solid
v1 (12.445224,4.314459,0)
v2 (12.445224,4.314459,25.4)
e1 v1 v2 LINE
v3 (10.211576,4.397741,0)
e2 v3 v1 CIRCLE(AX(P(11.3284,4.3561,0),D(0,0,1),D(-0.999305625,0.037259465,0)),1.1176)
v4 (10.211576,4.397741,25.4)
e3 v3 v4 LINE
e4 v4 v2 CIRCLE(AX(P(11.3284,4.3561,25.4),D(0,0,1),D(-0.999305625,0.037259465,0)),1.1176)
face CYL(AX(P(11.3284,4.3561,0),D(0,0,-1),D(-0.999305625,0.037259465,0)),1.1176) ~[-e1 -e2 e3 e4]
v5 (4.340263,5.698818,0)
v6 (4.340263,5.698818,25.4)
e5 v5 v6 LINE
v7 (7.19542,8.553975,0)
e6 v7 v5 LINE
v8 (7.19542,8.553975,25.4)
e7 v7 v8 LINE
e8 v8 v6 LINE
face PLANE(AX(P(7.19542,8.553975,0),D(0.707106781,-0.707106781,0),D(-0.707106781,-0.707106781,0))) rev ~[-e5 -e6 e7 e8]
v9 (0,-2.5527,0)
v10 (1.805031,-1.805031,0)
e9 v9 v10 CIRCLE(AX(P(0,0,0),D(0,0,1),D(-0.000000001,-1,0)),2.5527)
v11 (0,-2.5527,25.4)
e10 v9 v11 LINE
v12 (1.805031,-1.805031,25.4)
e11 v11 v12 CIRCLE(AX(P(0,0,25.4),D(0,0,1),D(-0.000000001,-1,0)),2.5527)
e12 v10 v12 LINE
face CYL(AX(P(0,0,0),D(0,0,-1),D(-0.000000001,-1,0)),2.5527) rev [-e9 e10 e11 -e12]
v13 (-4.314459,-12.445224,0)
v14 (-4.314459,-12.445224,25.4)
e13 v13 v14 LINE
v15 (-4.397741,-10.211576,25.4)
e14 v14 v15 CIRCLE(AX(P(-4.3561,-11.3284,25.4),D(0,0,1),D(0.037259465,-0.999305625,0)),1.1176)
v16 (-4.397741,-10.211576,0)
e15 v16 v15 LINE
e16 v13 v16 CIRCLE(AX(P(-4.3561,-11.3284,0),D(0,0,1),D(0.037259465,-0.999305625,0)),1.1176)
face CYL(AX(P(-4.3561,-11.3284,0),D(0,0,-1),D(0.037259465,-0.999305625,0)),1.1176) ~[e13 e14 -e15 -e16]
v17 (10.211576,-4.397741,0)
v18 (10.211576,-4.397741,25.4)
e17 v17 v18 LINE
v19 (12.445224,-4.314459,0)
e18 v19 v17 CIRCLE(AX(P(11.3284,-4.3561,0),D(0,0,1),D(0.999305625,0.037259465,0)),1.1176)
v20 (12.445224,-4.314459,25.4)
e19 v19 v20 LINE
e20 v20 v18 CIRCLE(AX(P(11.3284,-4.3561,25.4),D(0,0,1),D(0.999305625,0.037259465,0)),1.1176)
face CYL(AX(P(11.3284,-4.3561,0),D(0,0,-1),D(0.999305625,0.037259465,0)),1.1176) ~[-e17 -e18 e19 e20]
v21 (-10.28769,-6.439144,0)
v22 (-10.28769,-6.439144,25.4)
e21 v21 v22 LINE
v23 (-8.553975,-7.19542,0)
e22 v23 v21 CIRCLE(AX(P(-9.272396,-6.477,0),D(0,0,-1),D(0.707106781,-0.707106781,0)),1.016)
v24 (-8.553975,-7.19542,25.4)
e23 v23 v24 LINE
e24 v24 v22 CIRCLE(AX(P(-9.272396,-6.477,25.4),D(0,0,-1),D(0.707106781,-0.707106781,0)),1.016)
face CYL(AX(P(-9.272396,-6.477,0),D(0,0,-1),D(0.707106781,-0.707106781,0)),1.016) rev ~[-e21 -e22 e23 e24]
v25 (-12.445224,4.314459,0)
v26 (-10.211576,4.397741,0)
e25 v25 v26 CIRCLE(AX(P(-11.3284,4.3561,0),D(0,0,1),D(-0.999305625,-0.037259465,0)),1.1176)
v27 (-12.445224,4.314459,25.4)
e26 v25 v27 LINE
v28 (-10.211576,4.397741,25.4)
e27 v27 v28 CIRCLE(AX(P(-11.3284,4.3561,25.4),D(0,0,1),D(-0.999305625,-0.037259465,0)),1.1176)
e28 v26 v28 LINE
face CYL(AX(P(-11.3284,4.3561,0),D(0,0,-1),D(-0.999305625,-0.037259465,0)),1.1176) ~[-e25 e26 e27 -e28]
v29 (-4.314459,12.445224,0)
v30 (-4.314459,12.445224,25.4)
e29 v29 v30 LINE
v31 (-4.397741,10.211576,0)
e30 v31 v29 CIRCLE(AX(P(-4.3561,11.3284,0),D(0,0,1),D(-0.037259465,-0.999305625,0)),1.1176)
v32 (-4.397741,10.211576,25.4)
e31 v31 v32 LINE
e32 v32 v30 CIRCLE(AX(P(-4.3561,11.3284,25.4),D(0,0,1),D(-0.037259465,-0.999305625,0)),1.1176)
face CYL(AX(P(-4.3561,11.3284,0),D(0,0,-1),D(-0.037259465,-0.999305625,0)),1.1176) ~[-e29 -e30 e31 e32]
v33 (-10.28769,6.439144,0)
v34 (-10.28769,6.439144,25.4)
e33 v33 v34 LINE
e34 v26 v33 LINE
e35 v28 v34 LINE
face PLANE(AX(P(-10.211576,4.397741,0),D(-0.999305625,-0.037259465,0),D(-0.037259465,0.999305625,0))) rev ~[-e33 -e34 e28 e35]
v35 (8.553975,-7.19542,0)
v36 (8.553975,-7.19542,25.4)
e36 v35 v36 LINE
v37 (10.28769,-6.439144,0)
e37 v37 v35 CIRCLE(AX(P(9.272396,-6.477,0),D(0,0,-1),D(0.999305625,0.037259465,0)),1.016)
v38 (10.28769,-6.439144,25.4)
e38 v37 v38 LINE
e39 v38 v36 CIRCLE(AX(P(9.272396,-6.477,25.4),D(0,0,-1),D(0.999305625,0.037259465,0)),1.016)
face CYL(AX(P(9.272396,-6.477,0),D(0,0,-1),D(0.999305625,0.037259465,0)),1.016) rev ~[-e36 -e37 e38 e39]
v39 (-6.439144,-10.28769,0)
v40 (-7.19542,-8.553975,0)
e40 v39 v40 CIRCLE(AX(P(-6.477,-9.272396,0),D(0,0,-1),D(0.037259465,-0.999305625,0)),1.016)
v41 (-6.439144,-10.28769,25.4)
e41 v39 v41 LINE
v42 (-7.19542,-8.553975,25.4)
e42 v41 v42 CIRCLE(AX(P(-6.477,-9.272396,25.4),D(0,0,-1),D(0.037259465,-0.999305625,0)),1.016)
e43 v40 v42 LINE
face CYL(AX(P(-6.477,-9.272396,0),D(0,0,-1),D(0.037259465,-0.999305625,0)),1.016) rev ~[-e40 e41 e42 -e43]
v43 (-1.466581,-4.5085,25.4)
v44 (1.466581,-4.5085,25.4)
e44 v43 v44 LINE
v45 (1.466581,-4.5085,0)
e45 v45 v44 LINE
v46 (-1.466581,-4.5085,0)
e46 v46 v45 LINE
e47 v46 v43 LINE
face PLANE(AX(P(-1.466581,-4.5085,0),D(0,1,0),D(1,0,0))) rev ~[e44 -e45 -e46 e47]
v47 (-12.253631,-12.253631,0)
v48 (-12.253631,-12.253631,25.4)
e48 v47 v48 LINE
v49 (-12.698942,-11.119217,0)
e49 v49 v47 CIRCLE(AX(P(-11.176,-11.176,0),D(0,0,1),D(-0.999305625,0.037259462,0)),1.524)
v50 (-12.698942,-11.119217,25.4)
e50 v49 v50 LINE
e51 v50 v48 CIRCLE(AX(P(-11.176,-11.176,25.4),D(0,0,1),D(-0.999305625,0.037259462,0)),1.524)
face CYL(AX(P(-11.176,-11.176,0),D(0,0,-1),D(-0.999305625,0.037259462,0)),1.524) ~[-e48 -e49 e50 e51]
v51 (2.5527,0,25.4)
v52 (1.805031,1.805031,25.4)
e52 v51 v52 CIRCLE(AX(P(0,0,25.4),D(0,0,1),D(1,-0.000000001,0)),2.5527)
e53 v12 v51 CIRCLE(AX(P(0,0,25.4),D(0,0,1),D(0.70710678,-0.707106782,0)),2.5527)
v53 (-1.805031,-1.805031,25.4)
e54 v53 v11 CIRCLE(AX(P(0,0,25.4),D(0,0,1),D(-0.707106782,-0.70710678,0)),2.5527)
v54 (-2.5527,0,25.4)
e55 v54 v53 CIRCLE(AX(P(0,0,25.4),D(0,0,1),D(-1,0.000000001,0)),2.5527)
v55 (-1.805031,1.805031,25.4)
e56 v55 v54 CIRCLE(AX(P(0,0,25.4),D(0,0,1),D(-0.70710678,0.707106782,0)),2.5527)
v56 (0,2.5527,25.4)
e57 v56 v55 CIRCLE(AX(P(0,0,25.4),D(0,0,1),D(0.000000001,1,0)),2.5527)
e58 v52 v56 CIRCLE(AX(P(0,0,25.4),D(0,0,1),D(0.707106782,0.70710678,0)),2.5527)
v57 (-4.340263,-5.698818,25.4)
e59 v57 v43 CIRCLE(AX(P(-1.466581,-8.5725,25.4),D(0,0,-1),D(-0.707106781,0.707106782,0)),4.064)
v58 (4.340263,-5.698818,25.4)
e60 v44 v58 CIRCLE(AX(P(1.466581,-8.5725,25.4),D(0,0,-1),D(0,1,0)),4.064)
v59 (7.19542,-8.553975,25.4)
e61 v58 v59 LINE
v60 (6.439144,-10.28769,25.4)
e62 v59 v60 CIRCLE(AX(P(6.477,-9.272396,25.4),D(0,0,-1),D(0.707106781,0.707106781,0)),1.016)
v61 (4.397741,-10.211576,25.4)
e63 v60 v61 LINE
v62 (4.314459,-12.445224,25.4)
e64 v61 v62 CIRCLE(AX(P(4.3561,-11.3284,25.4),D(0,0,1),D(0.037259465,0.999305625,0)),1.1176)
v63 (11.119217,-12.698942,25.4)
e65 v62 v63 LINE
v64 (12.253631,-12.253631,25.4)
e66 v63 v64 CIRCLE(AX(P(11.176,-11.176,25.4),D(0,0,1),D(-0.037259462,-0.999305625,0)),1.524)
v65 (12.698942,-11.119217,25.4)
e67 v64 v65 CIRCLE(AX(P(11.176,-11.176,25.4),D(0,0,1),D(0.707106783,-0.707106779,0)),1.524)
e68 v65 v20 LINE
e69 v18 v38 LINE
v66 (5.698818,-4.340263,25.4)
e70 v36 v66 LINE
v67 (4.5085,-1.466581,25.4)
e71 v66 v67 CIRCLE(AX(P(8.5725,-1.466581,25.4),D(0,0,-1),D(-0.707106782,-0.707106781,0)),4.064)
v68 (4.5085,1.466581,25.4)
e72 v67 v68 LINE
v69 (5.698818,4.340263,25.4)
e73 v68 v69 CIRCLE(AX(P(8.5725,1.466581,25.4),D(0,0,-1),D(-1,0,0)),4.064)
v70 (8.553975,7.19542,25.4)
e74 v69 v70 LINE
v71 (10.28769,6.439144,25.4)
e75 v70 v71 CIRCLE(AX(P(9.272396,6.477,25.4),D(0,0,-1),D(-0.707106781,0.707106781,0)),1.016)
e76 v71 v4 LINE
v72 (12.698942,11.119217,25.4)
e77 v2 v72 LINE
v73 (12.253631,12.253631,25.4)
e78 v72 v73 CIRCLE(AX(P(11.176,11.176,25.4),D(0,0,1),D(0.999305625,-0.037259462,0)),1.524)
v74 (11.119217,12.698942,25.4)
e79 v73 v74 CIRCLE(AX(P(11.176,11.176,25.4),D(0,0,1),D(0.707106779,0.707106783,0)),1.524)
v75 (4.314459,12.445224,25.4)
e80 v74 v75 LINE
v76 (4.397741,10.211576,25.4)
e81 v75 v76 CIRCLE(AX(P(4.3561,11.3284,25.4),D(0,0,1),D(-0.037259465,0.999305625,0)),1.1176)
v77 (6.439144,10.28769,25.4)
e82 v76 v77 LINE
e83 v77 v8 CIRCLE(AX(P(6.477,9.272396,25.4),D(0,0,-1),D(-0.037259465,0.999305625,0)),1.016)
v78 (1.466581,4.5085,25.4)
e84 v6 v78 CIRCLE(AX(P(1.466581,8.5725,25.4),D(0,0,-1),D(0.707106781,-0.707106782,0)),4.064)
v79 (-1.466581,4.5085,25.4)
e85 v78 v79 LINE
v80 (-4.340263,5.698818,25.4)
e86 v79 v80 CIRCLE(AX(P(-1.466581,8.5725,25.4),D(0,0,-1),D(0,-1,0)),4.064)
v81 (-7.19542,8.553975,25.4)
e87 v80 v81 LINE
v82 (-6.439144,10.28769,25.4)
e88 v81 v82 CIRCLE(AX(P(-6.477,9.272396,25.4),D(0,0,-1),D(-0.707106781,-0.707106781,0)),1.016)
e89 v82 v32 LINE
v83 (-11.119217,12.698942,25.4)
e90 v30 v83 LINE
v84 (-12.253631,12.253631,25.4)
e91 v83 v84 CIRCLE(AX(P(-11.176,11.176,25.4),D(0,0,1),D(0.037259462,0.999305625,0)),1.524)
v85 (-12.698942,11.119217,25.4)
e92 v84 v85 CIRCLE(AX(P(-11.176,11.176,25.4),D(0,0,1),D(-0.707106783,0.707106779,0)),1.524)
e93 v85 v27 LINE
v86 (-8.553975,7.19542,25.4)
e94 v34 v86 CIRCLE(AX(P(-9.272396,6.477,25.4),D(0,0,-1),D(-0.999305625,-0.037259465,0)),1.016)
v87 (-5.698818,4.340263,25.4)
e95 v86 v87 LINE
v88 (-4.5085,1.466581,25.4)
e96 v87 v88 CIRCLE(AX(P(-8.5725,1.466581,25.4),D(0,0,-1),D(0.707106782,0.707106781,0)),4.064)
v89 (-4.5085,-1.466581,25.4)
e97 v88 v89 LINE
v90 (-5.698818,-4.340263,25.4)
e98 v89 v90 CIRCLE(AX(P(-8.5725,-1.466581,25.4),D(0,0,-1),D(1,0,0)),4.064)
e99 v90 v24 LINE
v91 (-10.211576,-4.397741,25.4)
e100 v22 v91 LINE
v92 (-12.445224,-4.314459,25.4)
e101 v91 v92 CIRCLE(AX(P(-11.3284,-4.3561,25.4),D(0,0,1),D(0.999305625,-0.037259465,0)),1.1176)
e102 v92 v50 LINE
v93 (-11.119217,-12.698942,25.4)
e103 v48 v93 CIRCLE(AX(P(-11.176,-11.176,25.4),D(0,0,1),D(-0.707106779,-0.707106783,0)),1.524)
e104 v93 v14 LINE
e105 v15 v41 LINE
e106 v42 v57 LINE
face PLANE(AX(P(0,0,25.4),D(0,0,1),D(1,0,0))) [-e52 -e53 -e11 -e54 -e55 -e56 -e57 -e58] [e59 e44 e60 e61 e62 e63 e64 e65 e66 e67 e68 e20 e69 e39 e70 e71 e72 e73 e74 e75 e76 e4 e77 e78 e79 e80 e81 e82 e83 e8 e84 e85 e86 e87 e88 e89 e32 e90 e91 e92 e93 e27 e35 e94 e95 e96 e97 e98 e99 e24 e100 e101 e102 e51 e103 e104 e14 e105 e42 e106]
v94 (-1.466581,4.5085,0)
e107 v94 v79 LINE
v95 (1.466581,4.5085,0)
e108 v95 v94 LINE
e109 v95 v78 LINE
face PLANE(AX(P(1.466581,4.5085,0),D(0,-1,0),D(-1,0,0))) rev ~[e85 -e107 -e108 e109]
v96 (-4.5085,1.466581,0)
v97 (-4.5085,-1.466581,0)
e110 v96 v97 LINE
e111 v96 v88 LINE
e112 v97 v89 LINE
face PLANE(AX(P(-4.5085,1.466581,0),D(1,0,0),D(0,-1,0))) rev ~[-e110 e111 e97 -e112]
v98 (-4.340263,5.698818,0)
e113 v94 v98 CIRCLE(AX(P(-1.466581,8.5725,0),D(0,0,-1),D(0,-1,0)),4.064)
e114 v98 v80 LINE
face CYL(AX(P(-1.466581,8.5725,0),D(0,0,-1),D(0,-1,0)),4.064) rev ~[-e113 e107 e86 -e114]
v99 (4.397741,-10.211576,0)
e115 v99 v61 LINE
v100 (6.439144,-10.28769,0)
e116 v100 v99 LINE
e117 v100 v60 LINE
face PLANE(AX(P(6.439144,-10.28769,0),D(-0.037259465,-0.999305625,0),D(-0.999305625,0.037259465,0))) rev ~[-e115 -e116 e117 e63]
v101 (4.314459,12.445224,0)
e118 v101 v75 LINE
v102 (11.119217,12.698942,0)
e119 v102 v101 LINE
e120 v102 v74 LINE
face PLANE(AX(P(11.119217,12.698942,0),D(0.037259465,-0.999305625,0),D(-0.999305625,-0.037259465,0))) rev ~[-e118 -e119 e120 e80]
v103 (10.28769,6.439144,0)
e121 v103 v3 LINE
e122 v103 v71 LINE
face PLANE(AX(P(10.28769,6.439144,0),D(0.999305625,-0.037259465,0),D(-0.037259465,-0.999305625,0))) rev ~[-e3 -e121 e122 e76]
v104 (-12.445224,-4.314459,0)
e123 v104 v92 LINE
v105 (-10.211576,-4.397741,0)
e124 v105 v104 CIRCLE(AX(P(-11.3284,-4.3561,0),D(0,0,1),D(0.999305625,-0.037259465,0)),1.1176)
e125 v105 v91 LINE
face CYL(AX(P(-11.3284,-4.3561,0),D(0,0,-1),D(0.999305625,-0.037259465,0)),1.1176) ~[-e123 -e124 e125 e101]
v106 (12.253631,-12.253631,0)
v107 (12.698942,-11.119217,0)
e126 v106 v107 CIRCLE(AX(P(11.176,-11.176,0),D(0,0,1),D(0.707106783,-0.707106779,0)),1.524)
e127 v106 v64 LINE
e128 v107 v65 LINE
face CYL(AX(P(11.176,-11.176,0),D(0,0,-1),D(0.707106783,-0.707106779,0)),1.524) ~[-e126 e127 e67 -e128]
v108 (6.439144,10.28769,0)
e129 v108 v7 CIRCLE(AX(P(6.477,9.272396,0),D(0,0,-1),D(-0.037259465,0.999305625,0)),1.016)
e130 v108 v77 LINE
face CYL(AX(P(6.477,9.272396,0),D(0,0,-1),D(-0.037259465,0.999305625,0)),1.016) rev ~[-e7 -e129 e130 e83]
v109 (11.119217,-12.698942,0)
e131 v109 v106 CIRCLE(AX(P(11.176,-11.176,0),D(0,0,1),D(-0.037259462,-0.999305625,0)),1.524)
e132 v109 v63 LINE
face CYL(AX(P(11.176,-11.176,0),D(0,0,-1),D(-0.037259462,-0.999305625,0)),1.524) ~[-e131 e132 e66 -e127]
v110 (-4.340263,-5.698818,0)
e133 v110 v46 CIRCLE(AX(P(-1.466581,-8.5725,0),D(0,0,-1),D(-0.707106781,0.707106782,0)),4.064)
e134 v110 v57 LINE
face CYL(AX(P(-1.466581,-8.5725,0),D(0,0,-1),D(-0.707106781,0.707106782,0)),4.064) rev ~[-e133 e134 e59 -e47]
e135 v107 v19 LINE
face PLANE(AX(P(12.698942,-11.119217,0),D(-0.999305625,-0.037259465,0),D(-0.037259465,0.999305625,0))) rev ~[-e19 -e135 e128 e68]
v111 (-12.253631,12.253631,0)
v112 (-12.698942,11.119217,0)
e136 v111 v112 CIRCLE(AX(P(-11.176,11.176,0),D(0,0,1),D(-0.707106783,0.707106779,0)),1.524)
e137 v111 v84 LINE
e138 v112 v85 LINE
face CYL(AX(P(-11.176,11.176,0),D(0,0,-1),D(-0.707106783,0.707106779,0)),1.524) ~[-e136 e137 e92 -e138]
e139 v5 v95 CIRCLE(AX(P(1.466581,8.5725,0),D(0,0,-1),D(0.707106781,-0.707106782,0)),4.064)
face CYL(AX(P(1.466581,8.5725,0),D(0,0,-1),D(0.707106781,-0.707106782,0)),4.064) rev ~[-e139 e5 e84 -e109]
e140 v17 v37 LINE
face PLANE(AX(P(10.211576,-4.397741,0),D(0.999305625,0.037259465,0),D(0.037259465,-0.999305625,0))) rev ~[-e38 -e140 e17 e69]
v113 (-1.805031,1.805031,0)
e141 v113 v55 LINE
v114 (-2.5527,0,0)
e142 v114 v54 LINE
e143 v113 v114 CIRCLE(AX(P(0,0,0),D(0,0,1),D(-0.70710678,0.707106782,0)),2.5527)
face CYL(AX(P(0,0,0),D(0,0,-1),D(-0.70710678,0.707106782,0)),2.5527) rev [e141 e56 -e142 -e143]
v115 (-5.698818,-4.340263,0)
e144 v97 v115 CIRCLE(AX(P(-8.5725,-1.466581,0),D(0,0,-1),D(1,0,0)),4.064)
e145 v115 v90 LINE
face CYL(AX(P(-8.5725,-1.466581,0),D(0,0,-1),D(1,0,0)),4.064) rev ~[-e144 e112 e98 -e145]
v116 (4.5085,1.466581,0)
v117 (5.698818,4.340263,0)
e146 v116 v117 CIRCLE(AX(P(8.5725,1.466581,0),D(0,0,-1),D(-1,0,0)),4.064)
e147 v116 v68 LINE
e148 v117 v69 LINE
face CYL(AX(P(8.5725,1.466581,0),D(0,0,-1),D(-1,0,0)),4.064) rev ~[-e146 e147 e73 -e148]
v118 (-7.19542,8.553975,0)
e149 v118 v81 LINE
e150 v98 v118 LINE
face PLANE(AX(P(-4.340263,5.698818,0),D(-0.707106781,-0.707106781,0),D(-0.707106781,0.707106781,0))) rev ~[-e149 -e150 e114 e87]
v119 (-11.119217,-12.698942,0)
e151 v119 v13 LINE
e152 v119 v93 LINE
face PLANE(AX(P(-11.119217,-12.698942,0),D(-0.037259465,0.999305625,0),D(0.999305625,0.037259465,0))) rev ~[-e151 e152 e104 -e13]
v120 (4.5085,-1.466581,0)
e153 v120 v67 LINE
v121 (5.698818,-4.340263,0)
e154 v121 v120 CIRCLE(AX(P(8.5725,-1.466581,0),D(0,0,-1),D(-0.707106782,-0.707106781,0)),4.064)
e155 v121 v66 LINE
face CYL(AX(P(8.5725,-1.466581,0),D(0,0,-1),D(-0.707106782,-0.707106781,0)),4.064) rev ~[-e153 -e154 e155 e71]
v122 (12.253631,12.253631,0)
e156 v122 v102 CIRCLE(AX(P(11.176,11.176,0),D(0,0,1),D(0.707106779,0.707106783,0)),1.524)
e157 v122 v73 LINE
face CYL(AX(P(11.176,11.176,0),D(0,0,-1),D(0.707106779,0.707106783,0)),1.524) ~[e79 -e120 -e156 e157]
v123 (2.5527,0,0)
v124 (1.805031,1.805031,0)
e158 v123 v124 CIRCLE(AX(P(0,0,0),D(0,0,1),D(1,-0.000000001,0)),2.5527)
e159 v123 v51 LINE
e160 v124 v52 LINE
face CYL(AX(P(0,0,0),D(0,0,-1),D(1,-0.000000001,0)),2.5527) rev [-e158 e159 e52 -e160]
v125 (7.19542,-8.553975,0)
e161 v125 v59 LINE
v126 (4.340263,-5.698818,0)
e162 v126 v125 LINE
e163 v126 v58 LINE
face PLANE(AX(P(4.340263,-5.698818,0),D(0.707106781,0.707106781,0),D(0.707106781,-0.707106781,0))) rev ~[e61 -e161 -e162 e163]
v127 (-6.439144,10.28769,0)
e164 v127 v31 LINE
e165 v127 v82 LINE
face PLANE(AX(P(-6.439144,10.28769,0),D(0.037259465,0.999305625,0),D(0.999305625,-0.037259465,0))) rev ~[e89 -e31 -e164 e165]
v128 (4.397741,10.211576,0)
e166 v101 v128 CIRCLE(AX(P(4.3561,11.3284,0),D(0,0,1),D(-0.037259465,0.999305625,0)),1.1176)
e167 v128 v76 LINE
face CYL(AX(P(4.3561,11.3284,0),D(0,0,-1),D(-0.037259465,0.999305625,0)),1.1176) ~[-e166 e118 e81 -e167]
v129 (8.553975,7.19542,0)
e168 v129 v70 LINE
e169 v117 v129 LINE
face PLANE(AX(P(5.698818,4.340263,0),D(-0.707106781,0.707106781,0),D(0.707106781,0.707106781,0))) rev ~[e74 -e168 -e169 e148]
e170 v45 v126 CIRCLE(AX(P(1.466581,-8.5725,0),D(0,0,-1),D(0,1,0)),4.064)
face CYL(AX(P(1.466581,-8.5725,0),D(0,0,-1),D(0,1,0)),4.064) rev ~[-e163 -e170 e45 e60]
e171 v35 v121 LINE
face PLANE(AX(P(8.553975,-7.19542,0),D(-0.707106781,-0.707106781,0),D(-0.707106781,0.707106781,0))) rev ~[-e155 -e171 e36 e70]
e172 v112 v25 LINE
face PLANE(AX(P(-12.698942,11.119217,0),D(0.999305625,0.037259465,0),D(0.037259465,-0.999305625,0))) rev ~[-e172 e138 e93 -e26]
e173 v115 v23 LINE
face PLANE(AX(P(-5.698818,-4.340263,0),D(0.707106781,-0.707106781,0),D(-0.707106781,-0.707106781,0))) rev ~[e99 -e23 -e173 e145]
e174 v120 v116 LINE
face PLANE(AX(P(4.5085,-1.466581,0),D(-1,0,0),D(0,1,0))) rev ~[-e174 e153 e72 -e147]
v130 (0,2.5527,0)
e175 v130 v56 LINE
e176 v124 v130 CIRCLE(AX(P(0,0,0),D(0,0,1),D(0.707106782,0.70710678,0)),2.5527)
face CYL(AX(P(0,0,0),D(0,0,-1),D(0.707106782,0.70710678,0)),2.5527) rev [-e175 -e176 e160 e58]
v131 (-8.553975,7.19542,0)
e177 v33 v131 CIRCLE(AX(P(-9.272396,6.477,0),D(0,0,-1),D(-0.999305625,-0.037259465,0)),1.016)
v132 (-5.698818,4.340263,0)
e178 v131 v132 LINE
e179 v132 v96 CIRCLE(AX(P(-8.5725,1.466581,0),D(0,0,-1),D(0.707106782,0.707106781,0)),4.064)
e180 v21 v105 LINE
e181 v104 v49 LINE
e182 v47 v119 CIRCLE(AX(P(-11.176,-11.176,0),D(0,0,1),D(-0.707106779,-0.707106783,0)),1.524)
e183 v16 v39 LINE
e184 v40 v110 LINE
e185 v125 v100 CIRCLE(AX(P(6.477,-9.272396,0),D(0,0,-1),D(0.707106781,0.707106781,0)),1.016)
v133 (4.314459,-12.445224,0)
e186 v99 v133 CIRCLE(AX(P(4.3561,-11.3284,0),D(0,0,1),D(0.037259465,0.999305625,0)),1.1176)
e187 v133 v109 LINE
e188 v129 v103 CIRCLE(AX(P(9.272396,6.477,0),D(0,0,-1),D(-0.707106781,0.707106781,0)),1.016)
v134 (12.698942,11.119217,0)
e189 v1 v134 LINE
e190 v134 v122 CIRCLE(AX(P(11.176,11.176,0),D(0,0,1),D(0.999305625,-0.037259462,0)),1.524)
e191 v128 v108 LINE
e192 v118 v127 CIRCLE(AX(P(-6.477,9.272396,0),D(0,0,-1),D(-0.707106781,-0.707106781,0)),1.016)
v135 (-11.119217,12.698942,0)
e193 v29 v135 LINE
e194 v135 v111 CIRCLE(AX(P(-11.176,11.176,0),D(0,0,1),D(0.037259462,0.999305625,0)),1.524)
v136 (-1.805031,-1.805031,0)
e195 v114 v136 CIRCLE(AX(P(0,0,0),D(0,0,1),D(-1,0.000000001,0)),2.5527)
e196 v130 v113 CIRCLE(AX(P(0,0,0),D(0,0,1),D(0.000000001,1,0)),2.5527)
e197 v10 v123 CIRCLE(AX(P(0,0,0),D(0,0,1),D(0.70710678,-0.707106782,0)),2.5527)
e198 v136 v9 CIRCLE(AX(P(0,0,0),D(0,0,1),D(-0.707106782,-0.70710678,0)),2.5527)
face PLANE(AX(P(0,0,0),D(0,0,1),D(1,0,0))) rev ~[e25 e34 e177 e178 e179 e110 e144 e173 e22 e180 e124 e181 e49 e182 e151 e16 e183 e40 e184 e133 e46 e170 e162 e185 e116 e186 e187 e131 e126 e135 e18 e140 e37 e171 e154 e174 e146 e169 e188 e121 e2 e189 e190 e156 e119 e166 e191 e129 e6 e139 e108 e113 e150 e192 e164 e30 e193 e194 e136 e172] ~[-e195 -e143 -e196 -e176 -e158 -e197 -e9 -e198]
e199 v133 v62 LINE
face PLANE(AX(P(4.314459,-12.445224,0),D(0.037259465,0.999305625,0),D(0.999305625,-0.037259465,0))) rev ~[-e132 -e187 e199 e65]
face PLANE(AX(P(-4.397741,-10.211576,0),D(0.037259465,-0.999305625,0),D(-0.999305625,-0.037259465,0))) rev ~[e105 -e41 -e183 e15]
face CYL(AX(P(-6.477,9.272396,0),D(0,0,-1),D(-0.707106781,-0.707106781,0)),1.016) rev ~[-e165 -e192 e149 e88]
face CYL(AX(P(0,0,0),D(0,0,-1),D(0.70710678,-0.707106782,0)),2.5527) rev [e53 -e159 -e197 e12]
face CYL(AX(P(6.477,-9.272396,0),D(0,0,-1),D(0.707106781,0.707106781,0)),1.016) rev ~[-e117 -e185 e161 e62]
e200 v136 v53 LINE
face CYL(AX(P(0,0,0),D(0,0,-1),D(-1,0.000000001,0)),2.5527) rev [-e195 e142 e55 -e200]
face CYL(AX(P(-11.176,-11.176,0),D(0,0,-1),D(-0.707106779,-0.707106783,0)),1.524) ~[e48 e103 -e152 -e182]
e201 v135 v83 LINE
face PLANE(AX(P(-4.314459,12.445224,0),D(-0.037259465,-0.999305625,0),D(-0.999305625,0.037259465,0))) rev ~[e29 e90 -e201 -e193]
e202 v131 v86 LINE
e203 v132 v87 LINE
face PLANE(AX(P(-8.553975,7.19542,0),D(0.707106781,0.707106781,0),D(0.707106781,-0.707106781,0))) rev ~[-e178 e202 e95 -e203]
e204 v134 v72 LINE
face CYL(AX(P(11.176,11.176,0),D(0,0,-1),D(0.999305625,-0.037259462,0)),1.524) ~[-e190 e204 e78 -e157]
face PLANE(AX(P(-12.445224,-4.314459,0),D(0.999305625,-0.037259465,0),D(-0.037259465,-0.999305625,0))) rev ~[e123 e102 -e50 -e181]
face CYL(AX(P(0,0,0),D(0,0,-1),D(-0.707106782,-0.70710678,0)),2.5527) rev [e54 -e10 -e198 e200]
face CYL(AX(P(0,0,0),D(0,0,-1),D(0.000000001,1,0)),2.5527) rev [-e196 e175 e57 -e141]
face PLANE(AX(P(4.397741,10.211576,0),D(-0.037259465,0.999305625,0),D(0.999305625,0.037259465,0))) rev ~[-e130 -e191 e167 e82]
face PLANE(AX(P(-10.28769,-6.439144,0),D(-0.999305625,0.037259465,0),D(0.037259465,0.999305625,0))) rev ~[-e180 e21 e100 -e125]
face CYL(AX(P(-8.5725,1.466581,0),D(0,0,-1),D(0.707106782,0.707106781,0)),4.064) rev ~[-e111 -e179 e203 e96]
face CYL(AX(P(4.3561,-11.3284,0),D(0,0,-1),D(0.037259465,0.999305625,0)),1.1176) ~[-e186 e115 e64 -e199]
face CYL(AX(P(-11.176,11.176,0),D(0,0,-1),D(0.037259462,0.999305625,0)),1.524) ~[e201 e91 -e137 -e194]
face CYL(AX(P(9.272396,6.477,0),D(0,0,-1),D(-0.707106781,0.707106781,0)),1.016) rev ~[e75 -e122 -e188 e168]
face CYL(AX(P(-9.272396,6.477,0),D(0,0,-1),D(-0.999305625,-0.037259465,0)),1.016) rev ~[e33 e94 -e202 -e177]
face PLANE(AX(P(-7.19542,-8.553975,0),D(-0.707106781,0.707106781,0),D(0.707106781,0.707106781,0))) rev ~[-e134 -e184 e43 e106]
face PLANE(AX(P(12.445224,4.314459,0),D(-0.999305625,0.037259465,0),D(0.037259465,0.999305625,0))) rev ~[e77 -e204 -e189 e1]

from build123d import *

# Parameters (mm, degrees)
EXTRUDE1_DEPTH = 25.4


with BuildPart() as part:
    # Sketch1 → Extrude1 (new body)
    with BuildSketch(Plane.XY):
        with BuildLine():
            Line((11.119216576, 12.698941773), (4.314458822, 12.445223967))
            ThreePointArc((4.314458822, 12.445223967), (3.239276033, 11.286758822), (4.397741178, 10.211576033))
            Line((4.397741178, 10.211576033), (6.439144384, 10.287690476))
            ThreePointArc((6.439144384, 10.287690476), (7.408254029, 9.678624879), (7.19542049, 8.553975471))
            Line((7.19542049, 8.553975471), (4.34026306, 5.698818041))
            ThreePointArc((4.34026306, 5.698818041), (3.02180657, 4.81785358), (1.466581101, 4.5085))
            Line((1.466581101, 4.5085), (0, 4.5085))
            Line((0, 4.5085), (-1.466581101, 4.5085))
            ThreePointArc((-1.466581101, 4.5085), (-3.02180657, 4.81785358), (-4.34026306, 5.698818041))
            Line((-4.34026306, 5.698818041), (-7.19542049, 8.553975471))
            ThreePointArc((-7.19542049, 8.553975471), (-7.408254029, 9.678624879), (-6.439144384, 10.287690476))
            Line((-6.439144384, 10.287690476), (-4.397741178, 10.211576033))
            ThreePointArc((-4.397741178, 10.211576033), (-3.239276033, 11.286758822), (-4.314458822, 12.445223967))
            Line((-4.314458822, 12.445223967), (-11.119216576, 12.698941773))
            ThreePointArc((-11.119216576, 12.698941773), (-11.732873224, 12.594614892), (-12.253630735, 12.253630735))
            ThreePointArc((-12.253630735, 12.253630735), (-12.594614892, 11.732873224), (-12.698941773, 11.119216576))
            Line((-12.698941773, 11.119216576), (-12.445223967, 4.314458822))
            ThreePointArc((-12.445223967, 4.314458822), (-11.286758822, 3.239276033), (-10.211576033, 4.397741178))
            Line((-10.211576033, 4.397741178), (-10.287690476, 6.439144384))
            ThreePointArc((-10.287690476, 6.439144384), (-9.678624879, 7.408254029), (-8.553975471, 7.19542049))
            Line((-8.553975471, 7.19542049), (-5.698818041, 4.34026306))
            ThreePointArc((-5.698818041, 4.34026306), (-4.81785358, 3.02180657), (-4.5085, 1.466581101))
            Line((-4.5085, 1.466581101), (-4.5085, 0))
            Line((-4.5085, 0), (-4.5085, -1.466581101))
            ThreePointArc((-4.5085, -1.466581101), (-4.81785358, -3.02180657), (-5.698818041, -4.34026306))
            Line((-5.698818041, -4.34026306), (-8.553975471, -7.19542049))
            ThreePointArc((-8.553975471, -7.19542049), (-9.678624879, -7.408254029), (-10.287690476, -6.439144384))
            Line((-10.287690476, -6.439144384), (-10.211576033, -4.397741178))
            ThreePointArc((-10.211576033, -4.397741178), (-11.286758822, -3.239276033), (-12.445223967, -4.314458822))
            Line((-12.445223967, -4.314458822), (-12.698941773, -11.119216576))
            ThreePointArc((-12.698941773, -11.119216576), (-12.594614892, -11.732873224), (-12.253630735, -12.253630735))
            ThreePointArc((-12.253630735, -12.253630735), (-11.732873224, -12.594614892), (-11.119216576, -12.698941773))
            Line((-11.119216576, -12.698941773), (-4.314458822, -12.445223967))
            ThreePointArc((-4.314458822, -12.445223967), (-3.239276033, -11.286758822), (-4.397741178, -10.211576033))
            Line((-4.397741178, -10.211576033), (-6.439144384, -10.287690476))
            ThreePointArc((-6.439144384, -10.287690476), (-7.408254029, -9.678624879), (-7.19542049, -8.553975471))
            Line((-7.19542049, -8.553975471), (-4.34026306, -5.698818041))
            ThreePointArc((-4.34026306, -5.698818041), (-3.02180657, -4.81785358), (-1.466581101, -4.5085))
            Line((-1.466581101, -4.5085), (0, -4.5085))
            Line((0, -4.5085), (1.466581101, -4.5085))
            ThreePointArc((1.466581101, -4.5085), (3.02180657, -4.81785358), (4.34026306, -5.698818041))
            Line((4.34026306, -5.698818041), (7.19542049, -8.553975471))
            ThreePointArc((7.19542049, -8.553975471), (7.408254029, -9.678624879), (6.439144384, -10.287690476))
            Line((6.439144384, -10.287690476), (4.397741178, -10.211576033))
            ThreePointArc((4.397741178, -10.211576033), (3.239276033, -11.286758822), (4.314458822, -12.445223967))
            Line((4.314458822, -12.445223967), (11.119216576, -12.698941773))
            ThreePointArc((11.119216576, -12.698941773), (11.732873224, -12.594614892), (12.253630735, -12.253630735))
            ThreePointArc((12.253630735, -12.253630735), (12.594614892, -11.732873224), (12.698941773, -11.119216576))
            Line((12.698941773, -11.119216576), (12.445223967, -4.314458822))
            ThreePointArc((12.445223967, -4.314458822), (11.286758822, -3.239276033), (10.211576033, -4.397741178))
            Line((10.211576033, -4.397741178), (10.287690476, -6.439144384))
            ThreePointArc((10.287690476, -6.439144384), (9.678624879, -7.408254029), (8.553975471, -7.19542049))
            Line((8.553975471, -7.19542049), (5.698818041, -4.34026306))
            ThreePointArc((5.698818041, -4.34026306), (4.81785358, -3.02180657), (4.5085, -1.466581101))
            Line((4.5085, -1.466581101), (4.5085, 0))
            Line((4.5085, 0), (4.5085, 1.466581101))
            ThreePointArc((4.5085, 1.466581101), (4.81785358, 3.02180657), (5.698818041, 4.34026306))
            Line((5.698818041, 4.34026306), (8.553975471, 7.19542049))
            ThreePointArc((8.553975471, 7.19542049), (9.678624879, 7.408254029), (10.287690476, 6.439144384))
            Line((10.287690476, 6.439144384), (10.211576033, 4.397741178))
            ThreePointArc((10.211576033, 4.397741178), (11.286758822, 3.239276033), (12.445223967, 4.314458822))
            Line((12.445223967, 4.314458822), (12.698941773, 11.119216576))
            ThreePointArc((12.698941773, 11.119216576), (12.594614892, 11.732873224), (12.253630735, 12.253630735))
            ThreePointArc((12.253630735, 12.253630735), (11.732873224, 12.594614892), (11.119216576, 12.698941773))
        make_face()
        with BuildLine():
            ThreePointArc((1.80503148, 1.80503148), (0.976875998, 2.358387283), (0, 2.5527))
            ThreePointArc((0, 2.5527), (-0.976875998, 2.358387283), (-1.80503148, 1.80503148))
            ThreePointArc((-1.80503148, 1.80503148), (-2.358387283, 0.976875998), (-2.5527, 0))
            ThreePointArc((-2.5527, 0), (-2.358387283, -0.976875998), (-1.80503148, -1.80503148))
            ThreePointArc((-1.80503148, -1.80503148), (-0.976875998, -2.358387283), (0, -2.5527))
            ThreePointArc((0, -2.5527), (0.976875998, -2.358387283), (1.80503148, -1.80503148))
            ThreePointArc((1.80503148, -1.80503148), (2.358387283, -0.976875998), (2.5527, 0))
            ThreePointArc((2.5527, 0), (2.358387283, 0.976875998), (1.80503148, 1.80503148))
        make_face(mode=Mode.SUBTRACT)
    extrude(amount=EXTRUDE1_DEPTH)


solid = part.part
